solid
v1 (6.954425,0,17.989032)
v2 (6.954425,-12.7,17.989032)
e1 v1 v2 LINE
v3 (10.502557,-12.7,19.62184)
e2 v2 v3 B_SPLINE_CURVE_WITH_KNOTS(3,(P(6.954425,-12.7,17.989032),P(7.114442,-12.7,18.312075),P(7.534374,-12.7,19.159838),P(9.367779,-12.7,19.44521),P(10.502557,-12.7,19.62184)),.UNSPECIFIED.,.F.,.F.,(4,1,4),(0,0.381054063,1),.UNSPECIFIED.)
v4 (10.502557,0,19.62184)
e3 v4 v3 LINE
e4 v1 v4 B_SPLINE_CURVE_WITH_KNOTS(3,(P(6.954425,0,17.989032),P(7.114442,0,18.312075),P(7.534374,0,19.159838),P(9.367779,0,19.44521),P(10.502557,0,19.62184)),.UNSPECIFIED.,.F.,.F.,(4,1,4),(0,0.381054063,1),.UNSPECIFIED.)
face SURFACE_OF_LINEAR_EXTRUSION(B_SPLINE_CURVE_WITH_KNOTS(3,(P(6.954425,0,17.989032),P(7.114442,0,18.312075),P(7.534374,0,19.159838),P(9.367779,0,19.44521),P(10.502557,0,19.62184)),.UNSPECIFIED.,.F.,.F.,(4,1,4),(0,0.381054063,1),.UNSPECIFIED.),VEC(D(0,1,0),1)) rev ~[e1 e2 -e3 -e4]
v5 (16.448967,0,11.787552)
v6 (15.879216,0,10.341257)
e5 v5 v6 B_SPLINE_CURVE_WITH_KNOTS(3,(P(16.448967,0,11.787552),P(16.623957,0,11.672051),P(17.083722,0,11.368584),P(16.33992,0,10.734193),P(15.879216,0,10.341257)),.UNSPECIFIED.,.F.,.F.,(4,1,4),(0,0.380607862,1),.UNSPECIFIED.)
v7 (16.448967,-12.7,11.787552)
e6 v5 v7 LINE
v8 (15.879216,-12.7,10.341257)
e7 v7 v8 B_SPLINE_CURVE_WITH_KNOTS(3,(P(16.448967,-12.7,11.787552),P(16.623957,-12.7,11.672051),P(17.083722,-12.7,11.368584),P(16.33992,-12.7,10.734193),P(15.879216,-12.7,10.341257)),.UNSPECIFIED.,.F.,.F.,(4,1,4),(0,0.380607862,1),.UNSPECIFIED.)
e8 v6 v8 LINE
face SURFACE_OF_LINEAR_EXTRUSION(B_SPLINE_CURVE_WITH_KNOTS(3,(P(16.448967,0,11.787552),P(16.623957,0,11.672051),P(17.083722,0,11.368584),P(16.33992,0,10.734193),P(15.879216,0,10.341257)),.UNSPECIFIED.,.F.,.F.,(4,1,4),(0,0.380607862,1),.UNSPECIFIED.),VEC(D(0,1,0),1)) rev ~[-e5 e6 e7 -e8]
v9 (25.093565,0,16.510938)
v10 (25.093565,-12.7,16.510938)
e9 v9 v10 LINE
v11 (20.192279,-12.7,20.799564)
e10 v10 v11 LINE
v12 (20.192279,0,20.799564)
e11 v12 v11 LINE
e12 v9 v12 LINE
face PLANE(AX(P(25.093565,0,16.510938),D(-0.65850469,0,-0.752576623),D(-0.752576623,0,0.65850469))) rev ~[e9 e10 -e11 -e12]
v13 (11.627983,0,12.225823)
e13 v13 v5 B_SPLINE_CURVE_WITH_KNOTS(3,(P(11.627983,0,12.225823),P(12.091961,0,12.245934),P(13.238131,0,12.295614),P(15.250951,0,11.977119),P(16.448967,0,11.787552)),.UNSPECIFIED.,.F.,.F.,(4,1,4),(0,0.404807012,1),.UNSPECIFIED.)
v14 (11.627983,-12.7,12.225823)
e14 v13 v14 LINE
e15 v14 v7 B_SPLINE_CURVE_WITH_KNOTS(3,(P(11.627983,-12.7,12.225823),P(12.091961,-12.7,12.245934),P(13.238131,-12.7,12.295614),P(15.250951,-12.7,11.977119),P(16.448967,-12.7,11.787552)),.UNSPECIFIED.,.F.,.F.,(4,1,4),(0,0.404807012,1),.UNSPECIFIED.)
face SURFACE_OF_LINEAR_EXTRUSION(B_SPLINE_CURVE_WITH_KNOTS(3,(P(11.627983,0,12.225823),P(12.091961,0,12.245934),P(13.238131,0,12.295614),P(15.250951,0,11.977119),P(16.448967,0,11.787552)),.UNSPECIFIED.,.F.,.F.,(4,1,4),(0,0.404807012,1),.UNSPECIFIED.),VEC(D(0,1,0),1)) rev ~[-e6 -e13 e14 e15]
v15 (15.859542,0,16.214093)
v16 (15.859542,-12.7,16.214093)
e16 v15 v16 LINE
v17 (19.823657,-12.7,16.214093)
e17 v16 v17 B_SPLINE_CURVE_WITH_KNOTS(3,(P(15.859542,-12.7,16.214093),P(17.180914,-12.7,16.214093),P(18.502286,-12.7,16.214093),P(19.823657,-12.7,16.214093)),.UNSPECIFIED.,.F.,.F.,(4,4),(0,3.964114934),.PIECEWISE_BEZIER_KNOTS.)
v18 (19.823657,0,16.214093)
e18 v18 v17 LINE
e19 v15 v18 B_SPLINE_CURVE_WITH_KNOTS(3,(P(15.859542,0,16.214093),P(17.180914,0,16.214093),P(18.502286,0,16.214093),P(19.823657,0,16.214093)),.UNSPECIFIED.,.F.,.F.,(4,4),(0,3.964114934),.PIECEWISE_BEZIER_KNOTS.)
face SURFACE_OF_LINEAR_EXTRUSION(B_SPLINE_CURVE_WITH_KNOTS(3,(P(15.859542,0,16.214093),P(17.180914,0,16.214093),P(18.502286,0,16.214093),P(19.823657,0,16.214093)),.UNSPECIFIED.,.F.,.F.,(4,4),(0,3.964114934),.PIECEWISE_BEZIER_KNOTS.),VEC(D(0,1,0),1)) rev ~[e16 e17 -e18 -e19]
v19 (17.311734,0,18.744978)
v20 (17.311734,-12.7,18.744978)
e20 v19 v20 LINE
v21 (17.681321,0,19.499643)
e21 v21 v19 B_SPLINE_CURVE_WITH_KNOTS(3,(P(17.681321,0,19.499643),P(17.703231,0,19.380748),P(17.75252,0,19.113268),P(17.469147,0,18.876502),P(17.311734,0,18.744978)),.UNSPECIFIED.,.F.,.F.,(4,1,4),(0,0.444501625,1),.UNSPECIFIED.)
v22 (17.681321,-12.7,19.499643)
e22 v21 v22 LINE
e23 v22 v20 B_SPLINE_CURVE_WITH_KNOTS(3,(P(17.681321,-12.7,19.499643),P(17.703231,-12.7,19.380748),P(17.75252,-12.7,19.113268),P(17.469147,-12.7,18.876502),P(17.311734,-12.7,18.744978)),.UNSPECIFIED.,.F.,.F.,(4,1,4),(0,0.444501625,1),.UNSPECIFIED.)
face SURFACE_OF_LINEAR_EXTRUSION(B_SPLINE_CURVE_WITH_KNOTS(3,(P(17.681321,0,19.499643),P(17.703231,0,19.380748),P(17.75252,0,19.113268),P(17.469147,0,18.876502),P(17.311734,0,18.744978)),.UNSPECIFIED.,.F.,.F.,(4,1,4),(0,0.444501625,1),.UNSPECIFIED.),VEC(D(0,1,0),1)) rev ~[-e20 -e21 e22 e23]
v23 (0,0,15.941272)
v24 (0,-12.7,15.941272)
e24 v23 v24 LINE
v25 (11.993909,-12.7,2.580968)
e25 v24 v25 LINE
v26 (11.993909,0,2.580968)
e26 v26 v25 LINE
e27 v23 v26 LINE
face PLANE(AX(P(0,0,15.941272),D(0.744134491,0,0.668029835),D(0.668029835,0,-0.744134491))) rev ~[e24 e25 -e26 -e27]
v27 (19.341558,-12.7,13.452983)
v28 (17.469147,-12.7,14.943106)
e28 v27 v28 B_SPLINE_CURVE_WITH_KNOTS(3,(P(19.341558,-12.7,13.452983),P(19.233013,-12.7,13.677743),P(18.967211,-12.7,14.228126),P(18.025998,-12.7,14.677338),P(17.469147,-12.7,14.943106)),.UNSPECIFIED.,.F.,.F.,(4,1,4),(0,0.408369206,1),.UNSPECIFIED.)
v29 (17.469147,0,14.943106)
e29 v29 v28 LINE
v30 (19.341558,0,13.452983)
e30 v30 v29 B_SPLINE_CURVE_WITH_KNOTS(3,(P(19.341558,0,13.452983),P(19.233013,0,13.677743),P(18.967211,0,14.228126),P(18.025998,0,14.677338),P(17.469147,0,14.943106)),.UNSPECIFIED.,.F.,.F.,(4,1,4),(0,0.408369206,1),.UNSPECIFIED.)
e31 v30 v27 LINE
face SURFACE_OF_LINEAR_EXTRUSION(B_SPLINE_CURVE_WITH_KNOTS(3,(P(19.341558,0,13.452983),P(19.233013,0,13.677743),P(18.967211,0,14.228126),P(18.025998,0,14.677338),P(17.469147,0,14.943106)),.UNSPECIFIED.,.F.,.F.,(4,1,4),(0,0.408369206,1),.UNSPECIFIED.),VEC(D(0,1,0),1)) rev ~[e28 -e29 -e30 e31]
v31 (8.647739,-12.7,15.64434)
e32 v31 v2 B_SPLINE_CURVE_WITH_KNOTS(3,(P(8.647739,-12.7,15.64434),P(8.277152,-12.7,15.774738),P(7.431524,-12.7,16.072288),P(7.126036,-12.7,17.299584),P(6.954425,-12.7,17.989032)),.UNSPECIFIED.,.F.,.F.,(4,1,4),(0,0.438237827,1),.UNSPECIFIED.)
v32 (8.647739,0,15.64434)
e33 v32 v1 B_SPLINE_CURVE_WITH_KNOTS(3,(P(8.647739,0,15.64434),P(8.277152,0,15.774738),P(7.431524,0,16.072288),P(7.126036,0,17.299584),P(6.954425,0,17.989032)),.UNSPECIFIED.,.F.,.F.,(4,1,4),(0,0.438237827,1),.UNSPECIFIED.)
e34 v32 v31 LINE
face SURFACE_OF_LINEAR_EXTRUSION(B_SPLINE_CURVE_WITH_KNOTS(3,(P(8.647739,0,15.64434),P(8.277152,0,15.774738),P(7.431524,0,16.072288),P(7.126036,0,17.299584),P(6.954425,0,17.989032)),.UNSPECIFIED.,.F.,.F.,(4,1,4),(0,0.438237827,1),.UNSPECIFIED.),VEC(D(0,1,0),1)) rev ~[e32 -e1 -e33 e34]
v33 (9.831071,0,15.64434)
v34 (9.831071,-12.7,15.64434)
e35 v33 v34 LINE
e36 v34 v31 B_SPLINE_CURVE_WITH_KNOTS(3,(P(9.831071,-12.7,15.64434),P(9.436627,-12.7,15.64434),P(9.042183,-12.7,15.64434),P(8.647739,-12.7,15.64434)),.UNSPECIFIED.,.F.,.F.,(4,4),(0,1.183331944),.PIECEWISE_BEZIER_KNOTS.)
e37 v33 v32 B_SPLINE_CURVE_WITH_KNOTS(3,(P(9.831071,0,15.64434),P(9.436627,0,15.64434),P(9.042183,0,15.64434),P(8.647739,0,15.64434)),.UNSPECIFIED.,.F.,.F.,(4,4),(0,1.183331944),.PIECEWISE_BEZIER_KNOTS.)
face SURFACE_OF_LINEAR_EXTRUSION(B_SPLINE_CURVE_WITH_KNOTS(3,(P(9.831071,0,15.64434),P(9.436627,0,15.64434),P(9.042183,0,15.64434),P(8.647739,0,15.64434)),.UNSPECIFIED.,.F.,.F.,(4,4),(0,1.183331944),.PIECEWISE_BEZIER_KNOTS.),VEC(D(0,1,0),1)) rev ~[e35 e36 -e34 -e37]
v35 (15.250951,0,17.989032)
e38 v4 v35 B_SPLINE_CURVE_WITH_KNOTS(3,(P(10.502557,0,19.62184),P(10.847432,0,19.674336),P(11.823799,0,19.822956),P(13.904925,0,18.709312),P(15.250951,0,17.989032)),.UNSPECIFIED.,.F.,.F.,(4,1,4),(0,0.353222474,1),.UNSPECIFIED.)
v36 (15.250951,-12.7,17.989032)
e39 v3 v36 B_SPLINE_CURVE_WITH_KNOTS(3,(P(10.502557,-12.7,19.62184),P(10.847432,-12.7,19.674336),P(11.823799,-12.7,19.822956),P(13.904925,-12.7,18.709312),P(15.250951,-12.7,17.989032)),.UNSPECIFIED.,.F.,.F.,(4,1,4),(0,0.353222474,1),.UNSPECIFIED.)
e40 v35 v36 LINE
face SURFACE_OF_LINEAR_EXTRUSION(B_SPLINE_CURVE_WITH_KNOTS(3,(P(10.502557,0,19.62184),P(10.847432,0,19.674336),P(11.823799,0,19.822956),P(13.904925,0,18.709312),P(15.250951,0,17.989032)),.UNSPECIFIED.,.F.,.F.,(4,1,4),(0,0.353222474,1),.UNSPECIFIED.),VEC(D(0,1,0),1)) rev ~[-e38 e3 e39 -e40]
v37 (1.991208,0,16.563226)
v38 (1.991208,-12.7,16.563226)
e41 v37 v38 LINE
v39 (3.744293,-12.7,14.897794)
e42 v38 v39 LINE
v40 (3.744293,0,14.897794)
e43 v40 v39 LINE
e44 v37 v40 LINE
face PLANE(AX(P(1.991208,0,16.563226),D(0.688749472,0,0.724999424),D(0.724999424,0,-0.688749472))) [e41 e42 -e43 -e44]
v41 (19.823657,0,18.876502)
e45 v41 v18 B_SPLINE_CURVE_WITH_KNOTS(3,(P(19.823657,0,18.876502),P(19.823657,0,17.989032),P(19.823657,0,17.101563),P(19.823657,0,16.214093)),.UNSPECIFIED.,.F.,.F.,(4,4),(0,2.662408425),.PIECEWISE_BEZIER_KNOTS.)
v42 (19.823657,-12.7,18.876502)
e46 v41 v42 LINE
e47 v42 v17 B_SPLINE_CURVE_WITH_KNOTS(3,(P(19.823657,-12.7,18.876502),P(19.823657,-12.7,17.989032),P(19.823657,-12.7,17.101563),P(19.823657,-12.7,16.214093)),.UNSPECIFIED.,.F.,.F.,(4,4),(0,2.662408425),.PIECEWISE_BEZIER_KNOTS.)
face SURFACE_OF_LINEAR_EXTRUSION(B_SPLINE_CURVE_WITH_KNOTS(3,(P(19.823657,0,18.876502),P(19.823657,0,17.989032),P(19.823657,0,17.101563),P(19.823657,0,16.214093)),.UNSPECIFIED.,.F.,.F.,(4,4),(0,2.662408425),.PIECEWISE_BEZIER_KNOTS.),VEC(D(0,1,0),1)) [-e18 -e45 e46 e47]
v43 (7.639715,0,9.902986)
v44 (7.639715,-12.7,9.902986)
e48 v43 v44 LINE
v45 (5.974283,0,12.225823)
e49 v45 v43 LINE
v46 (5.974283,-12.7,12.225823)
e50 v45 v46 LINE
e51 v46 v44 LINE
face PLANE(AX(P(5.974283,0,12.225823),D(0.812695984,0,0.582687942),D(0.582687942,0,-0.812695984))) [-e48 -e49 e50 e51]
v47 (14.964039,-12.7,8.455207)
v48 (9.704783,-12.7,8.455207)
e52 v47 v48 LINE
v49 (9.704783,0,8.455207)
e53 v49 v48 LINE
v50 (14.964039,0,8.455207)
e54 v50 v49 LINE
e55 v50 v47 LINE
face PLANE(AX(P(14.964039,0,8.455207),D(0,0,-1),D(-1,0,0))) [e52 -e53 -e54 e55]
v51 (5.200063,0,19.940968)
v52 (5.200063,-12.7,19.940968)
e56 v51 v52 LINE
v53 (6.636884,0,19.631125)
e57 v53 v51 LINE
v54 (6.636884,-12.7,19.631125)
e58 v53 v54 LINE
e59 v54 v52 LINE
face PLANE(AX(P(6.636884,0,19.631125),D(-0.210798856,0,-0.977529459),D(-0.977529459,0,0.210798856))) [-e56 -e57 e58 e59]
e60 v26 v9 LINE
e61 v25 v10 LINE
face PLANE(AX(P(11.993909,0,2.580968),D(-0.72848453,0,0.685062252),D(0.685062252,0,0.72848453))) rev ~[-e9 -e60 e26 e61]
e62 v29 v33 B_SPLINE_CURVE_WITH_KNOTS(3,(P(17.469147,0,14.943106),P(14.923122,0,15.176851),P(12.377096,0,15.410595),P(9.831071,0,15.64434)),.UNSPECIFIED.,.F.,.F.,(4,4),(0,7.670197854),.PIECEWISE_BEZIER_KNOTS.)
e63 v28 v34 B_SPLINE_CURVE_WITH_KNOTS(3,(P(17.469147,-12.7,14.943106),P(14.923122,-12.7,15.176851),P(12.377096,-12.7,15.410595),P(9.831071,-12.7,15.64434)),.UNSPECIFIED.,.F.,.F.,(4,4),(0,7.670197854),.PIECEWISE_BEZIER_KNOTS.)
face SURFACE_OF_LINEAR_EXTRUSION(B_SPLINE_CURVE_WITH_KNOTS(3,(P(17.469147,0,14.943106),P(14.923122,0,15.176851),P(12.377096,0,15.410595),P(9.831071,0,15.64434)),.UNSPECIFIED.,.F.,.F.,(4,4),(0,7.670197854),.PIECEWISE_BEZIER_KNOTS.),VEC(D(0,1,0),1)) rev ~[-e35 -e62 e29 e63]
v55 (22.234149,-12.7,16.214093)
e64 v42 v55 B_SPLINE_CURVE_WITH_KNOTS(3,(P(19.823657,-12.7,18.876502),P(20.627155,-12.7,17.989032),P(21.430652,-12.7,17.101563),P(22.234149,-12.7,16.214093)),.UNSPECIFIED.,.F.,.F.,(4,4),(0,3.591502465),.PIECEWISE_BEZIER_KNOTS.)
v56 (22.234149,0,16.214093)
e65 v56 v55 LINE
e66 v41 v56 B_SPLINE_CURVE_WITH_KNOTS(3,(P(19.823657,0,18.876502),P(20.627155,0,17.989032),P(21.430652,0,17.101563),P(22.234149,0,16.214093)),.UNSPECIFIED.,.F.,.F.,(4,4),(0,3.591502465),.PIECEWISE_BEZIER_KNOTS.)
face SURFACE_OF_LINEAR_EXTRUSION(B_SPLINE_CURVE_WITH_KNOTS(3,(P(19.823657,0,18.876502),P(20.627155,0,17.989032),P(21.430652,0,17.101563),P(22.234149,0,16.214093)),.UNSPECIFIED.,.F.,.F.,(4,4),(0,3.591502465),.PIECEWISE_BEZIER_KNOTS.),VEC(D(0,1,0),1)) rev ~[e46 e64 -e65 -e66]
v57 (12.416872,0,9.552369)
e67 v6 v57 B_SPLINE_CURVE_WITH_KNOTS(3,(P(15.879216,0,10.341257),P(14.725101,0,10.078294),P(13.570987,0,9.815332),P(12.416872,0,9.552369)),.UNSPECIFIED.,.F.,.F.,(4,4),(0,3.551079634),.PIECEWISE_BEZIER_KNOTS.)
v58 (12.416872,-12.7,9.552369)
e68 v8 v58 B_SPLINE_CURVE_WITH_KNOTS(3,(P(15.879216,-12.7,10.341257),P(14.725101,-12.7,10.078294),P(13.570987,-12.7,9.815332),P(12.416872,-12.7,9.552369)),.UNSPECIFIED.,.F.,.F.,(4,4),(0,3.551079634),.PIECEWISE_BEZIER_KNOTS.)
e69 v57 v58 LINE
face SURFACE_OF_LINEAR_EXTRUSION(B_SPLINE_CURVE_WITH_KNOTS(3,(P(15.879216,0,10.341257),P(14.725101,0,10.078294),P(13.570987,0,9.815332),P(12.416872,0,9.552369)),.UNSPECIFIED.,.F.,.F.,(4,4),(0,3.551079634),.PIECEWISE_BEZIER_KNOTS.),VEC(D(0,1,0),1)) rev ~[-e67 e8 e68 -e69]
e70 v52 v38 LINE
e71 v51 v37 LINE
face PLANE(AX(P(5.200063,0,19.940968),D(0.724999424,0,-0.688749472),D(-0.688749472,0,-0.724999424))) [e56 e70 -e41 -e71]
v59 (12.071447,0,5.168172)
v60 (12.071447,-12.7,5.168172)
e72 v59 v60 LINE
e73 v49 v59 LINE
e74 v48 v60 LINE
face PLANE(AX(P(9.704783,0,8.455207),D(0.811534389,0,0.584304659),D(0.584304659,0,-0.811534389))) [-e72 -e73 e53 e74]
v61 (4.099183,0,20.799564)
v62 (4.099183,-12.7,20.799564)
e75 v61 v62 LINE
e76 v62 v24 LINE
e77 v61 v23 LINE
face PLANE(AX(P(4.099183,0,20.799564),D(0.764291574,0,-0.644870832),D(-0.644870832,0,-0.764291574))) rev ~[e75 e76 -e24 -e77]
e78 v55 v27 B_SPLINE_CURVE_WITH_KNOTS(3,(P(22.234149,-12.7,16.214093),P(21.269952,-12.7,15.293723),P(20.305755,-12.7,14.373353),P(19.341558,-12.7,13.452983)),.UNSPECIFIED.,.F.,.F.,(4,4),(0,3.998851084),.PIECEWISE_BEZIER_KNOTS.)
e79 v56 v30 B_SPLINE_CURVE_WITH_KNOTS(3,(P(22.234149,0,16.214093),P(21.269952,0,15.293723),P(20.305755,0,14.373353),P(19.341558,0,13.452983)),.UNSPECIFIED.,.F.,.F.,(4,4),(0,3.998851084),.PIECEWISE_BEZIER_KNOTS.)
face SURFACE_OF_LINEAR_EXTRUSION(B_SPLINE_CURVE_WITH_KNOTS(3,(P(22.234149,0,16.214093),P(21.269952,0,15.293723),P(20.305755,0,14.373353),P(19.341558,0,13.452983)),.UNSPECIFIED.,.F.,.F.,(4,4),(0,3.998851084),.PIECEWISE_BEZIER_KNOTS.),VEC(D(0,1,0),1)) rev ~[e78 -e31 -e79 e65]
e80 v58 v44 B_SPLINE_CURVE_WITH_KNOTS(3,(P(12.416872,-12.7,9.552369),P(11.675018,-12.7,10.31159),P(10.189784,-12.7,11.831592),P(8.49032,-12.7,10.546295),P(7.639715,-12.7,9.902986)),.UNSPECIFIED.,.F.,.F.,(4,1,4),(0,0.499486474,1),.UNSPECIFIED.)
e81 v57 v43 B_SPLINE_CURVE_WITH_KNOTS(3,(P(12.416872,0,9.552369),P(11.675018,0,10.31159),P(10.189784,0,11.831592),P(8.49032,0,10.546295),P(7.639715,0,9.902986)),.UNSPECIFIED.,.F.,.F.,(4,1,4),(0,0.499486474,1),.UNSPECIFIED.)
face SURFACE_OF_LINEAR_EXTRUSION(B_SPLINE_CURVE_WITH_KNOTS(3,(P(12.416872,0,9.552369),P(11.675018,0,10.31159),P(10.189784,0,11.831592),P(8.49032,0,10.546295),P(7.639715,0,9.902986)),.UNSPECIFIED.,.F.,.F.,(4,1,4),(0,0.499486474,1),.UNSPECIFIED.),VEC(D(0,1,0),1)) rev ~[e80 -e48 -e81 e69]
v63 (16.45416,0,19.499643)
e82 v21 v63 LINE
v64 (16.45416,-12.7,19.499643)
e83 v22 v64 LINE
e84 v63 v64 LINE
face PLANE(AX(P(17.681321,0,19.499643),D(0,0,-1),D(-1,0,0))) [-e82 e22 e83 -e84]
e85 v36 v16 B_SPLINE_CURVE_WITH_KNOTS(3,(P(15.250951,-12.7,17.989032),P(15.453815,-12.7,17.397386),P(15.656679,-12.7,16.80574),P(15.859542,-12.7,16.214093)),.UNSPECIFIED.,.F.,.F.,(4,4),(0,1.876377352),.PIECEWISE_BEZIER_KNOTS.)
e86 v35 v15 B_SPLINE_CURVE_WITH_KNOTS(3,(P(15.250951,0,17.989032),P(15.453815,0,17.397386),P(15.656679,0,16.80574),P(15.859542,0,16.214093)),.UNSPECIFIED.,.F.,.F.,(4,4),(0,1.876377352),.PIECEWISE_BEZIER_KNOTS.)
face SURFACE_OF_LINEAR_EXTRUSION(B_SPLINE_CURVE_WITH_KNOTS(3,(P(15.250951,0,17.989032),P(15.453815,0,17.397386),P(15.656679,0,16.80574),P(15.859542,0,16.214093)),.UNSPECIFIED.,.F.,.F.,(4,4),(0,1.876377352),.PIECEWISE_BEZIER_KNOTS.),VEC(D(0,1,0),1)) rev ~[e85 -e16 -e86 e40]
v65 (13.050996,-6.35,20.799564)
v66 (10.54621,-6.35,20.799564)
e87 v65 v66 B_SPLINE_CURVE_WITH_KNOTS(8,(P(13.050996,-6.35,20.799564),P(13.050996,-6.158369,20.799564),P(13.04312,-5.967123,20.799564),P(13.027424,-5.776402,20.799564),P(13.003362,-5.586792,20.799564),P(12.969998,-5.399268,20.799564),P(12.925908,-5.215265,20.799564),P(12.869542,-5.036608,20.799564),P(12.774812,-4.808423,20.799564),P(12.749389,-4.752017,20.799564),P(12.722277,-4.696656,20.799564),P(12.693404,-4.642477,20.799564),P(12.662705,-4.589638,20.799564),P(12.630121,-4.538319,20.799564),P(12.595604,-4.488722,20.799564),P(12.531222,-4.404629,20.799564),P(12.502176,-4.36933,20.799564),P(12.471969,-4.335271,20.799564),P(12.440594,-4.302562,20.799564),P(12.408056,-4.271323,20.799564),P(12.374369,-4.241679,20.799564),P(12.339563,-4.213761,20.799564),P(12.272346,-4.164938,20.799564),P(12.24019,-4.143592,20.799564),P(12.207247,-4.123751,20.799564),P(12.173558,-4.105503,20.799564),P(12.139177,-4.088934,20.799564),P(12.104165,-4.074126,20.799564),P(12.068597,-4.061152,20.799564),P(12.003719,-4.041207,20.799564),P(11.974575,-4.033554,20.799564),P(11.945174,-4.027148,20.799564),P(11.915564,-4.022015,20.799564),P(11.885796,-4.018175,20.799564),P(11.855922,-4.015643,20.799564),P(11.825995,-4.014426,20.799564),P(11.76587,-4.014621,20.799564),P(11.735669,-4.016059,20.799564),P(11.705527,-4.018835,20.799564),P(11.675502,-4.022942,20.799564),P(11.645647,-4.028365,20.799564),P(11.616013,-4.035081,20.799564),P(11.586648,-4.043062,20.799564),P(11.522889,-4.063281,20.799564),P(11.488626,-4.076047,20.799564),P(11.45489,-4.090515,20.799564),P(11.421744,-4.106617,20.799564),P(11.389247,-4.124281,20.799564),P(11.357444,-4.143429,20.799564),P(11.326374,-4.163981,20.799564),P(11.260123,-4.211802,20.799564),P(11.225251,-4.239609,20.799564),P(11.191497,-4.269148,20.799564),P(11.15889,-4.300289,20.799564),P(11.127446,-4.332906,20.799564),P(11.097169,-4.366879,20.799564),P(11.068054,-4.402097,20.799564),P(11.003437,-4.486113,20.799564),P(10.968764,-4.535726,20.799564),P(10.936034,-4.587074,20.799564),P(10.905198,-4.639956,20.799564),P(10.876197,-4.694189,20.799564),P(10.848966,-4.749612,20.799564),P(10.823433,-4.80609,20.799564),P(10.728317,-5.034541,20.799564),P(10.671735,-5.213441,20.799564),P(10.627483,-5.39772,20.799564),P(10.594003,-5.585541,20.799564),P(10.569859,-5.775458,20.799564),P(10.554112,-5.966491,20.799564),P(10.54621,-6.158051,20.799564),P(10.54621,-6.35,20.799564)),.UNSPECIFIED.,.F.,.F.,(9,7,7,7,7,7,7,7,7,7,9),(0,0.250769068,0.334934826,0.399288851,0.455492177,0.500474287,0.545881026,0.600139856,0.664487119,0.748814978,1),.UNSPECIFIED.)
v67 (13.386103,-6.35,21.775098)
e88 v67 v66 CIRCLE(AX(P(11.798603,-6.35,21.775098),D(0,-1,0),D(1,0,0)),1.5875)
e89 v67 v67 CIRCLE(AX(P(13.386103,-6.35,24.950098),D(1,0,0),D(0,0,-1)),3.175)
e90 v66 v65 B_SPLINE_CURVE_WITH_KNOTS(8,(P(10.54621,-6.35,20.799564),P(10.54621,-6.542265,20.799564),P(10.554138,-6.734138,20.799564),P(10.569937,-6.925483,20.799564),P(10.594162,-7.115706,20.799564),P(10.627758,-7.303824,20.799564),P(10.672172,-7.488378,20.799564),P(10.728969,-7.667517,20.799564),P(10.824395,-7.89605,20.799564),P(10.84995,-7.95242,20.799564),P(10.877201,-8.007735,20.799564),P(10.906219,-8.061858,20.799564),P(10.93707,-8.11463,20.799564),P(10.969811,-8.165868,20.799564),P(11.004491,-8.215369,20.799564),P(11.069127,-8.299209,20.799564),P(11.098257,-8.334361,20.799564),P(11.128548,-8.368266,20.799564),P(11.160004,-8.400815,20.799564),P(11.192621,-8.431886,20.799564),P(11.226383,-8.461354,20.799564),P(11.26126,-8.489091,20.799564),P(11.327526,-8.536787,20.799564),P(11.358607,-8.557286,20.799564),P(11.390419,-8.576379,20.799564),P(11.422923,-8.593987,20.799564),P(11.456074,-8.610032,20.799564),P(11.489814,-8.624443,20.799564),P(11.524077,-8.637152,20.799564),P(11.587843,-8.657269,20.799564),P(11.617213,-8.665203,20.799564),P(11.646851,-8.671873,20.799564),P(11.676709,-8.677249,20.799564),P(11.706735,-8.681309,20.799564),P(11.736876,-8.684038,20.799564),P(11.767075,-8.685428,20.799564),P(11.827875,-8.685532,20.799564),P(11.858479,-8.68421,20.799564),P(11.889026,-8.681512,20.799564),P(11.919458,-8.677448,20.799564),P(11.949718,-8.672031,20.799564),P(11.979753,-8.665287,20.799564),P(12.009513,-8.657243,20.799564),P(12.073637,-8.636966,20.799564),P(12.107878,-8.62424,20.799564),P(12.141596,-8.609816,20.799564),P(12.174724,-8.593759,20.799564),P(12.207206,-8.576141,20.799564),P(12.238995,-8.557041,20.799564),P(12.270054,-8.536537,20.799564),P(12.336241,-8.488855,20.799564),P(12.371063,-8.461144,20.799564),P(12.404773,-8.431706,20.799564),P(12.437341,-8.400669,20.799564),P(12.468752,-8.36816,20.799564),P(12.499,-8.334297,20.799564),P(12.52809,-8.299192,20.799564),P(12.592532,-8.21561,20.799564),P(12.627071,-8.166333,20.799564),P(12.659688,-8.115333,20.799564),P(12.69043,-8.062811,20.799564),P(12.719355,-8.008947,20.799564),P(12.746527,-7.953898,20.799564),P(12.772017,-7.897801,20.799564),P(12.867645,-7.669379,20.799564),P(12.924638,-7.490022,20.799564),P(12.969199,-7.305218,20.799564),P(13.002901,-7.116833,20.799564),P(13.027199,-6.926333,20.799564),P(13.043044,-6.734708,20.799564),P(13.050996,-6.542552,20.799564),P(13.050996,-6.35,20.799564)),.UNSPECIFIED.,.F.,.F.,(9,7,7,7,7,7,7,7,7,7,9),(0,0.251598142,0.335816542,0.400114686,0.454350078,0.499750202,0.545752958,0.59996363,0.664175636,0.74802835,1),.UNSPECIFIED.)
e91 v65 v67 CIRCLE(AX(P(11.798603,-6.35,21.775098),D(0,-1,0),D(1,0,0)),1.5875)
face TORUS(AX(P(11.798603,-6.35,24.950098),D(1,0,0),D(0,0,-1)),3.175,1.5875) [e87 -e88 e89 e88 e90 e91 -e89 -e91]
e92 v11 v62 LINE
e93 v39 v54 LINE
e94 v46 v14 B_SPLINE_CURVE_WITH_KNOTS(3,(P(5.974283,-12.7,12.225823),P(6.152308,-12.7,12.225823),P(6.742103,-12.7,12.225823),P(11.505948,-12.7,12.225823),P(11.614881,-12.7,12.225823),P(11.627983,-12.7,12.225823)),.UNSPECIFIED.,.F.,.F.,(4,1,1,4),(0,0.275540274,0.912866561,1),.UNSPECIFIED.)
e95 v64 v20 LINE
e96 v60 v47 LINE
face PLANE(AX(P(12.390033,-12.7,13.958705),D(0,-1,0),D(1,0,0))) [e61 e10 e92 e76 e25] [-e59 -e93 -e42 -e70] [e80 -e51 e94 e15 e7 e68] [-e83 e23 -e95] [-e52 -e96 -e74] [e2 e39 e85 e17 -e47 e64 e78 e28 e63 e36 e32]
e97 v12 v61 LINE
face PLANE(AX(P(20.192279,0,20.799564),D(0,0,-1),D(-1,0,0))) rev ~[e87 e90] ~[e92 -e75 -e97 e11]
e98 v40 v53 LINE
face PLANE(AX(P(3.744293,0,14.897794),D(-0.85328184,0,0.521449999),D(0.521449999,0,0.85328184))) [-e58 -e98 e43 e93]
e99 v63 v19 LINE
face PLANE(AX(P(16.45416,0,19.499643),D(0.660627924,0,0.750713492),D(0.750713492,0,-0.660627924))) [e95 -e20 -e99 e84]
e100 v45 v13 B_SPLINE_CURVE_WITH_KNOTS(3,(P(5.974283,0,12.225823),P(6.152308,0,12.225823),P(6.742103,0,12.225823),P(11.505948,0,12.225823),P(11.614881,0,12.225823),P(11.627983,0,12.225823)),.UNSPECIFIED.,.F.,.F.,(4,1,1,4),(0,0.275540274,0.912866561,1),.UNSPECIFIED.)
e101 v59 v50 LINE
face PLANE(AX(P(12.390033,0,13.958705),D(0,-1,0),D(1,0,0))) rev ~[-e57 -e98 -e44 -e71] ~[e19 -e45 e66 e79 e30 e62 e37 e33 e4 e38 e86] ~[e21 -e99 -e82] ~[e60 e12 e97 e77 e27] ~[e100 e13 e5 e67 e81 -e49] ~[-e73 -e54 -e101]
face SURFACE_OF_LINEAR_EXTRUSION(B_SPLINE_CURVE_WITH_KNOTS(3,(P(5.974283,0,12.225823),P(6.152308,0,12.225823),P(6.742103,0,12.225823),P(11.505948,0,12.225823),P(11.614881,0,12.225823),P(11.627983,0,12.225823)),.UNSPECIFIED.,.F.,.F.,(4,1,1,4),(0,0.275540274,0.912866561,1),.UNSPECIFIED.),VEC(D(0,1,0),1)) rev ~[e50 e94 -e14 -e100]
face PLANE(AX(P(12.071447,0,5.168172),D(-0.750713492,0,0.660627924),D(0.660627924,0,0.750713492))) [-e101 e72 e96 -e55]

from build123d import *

# Parameters (mm, degrees)
F1_DEPTH = 12.7
F3_DEPTH = 12.7
F5_R     = 1.5875


with BuildPart() as f1:
    # F0 (on Front) → F1 (new body)
    with BuildSketch(Plane.XZ):
        Polygon((20.1922785491, 20.7995641977), (4.0991832502, 20.7995641977), (0, 15.9412715584), (11.9939092547, 2.5809677318), (25.0935649863, 16.5109376256), align=None)
    extrude(amount=F1_DEPTH)

    # F2 (on Front) → F3 (cut)
    with BuildSketch(Plane.XZ):
        with BuildLine():
            Line((17.6813211292, 19.4996427745), (16.4541602135, 19.4996427745))
            Line((16.4541602135, 19.4996427745), (17.3117336033, 18.7449781331))
            add(Edge.make_bspline(
                [(17.6813211292, 19.4996427745), (17.7032305031, 19.3807477202), (17.7525202529, 19.1132682608), (17.4691469903, 18.8765016183), (17.3117336033, 18.7449781331)],
                knots=[0, 0, 0, 0, 0.4445016245, 1, 1, 1, 1], degree=3))
        make_face()
        Polygon((5.2000629936, 19.9409676004), (1.9912079442, 16.5632255375), (3.7442932371, 14.8977944627), (6.6368840635, 19.6311250329), align=None)
        with BuildLine():
            add(Edge.make_bspline(
                [(5.9742834419, 12.2258234769), (6.1523076349, 12.2258234769), (6.7421028422, 12.2258234769), (11.5059476456, 12.2258234769), (11.614881434, 12.2258234769), (11.6279833019, 12.2258234769)],
                knots=[0, 0, 0, 0, 0.2755402737, 0.9128665611, 1, 1, 1, 1], degree=3))
            Line((5.9742834419, 12.2258234769), (7.6397149824, 9.9029857665))
            add(Edge.make_bspline(
                [(12.4168721959, 9.5523688942), (11.6750178309, 10.3115895536), (10.1897836888, 11.8315919933), (8.4903196969, 10.5462945311), (7.6397149824, 9.9029857665)],
                knots=[0, 0, 0, 0, 0.4994864742, 1, 1, 1, 1], degree=3))
            add(Edge.make_bspline(
                [(15.8792156726, 10.3412568569), (14.7251011804, 10.0782942027), (13.5709866881, 9.8153315485), (12.4168721959, 9.5523688942)],
                knots=[0, 0, 0, 0, 3.5510796342, 3.5510796342, 3.5510796342, 3.5510796342], degree=3))
            add(Edge.make_bspline(
                [(16.4489671588, 11.7875523865), (16.6239572067, 11.6720505113), (17.0837218758, 11.3685836453), (16.3399204362, 10.7341932685), (15.8792156726, 10.3412568569)],
                knots=[0, 0, 0, 0, 0.3806078624, 1, 1, 1, 1], degree=3))
            add(Edge.make_bspline(
                [(11.6279833019, 12.2258234769), (12.0919609459, 12.2459342989), (13.2381309235, 12.2956143226), (15.2509508517, 11.9771187299), (16.4489671588, 11.7875523865)],
                knots=[0, 0, 0, 0, 0.4048070121, 1, 1, 1, 1], degree=3))
        make_face()
        Polygon((14.9640385062, 8.4552066401), (9.7047826275, 8.4552066401), (12.0714474469, 5.1681715995), align=None)
        with BuildLine():
            add(Edge.make_bspline(
                [(19.8236573488, 18.8765016183), (20.6271546582, 17.9890321434), (21.4306519677, 17.1015626684), (22.2341492772, 16.2140931934)],
                knots=[0, 0, 0, 0, 3.5915024653, 3.5915024653, 3.5915024653, 3.5915024653], degree=3))
            add(Edge.make_bspline(
                [(19.8236573488, 18.8765016183), (19.8236573488, 17.9890321434), (19.8236573488, 17.1015626684), (19.8236573488, 16.2140931934)],
                knots=[0, 0, 0, 0, 2.6624084249, 2.6624084249, 2.6624084249, 2.6624084249], degree=3))
            add(Edge.make_bspline(
                [(15.8595424145, 16.2140931934), (17.1809140593, 16.2140931934), (18.502285704, 16.2140931934), (19.8236573488, 16.2140931934)],
                knots=[0, 0, 0, 0, 3.9641149342, 3.9641149342, 3.9641149342, 3.9641149342], degree=3))
            add(Edge.make_bspline(
                [(15.2509508517, 17.9890321434), (15.453814706, 17.3973858267), (15.6566785603, 16.8057395101), (15.8595424145, 16.2140931934)],
                knots=[0, 0, 0, 0, 1.8763773518, 1.8763773518, 1.8763773518, 1.8763773518], degree=3))
            add(Edge.make_bspline(
                [(10.5025572702, 19.6218397468), (10.8474319302, 19.6743356606), (11.8237986261, 19.8229556312), (13.9049250513, 18.7093118882), (15.2509508517, 17.9890321434)],
                knots=[0, 0, 0, 0, 0.3532224741, 1, 1, 1, 1], degree=3))
            add(Edge.make_bspline(
                [(6.9544250146, 17.9890321434), (7.114441899, 18.3120753944), (7.5343741338, 19.1598376469), (9.3677788629, 19.4452098076), (10.5025572702, 19.6218397468)],
                knots=[0, 0, 0, 0, 0.3810540633, 1, 1, 1, 1], degree=3))
            add(Edge.make_bspline(
                [(8.6477389559, 15.6443398446), (8.2771524999, 15.77473769), (7.431523863, 16.0722881008), (7.126036346, 17.2995838282), (6.9544250146, 17.9890321434)],
                knots=[0, 0, 0, 0, 0.4382378267, 1, 1, 1, 1], degree=3))
            add(Edge.make_bspline(
                [(9.8310709, 15.6443398446), (9.4366269186, 15.6443398446), (9.0421829373, 15.6443398446), (8.6477389559, 15.6443398446)],
                knots=[0, 0, 0, 0, 1.183331944, 1.183331944, 1.183331944, 1.183331944], degree=3))
            add(Edge.make_bspline(
                [(17.4691469903, 14.9431061), (14.9231216269, 15.1768506815), (12.3770962634, 15.410595263), (9.8310709, 15.6443398446)],
                knots=[0, 0, 0, 0, 7.6701978545, 7.6701978545, 7.6701978545, 7.6701978545], degree=3))
            add(Edge.make_bspline(
                [(19.341558218, 13.4529834613), (19.2330129493, 13.6777429293), (18.9672111523, 14.2281259282), (18.025997796, 14.6773382545), (17.4691469903, 14.9431061)],
                knots=[0, 0, 0, 0, 0.4083692056, 1, 1, 1, 1], degree=3))
            add(Edge.make_bspline(
                [(22.2341492772, 16.2140931934), (21.2699522575, 15.2937232827), (20.3057552377, 14.373353372), (19.341558218, 13.4529834613)],
                knots=[0, 0, 0, 0, 3.9988510836, 3.9988510836, 3.9988510836, 3.9988510836], degree=3))
        make_face()
    extrude(amount=F3_DEPTH, mode=Mode.SUBTRACT)

    # F5 (on offset) → F6 (revolve)
    with BuildSketch(Plane.XZ.offset(6.35)):
        with Locations((11.7986029778, 21.7750984586)):
            Circle(F5_R)
    revolve(axis=Axis((13.9984451234, -6.35, 24.9500984586), (1, 0, 0)))


solid = f1.part
